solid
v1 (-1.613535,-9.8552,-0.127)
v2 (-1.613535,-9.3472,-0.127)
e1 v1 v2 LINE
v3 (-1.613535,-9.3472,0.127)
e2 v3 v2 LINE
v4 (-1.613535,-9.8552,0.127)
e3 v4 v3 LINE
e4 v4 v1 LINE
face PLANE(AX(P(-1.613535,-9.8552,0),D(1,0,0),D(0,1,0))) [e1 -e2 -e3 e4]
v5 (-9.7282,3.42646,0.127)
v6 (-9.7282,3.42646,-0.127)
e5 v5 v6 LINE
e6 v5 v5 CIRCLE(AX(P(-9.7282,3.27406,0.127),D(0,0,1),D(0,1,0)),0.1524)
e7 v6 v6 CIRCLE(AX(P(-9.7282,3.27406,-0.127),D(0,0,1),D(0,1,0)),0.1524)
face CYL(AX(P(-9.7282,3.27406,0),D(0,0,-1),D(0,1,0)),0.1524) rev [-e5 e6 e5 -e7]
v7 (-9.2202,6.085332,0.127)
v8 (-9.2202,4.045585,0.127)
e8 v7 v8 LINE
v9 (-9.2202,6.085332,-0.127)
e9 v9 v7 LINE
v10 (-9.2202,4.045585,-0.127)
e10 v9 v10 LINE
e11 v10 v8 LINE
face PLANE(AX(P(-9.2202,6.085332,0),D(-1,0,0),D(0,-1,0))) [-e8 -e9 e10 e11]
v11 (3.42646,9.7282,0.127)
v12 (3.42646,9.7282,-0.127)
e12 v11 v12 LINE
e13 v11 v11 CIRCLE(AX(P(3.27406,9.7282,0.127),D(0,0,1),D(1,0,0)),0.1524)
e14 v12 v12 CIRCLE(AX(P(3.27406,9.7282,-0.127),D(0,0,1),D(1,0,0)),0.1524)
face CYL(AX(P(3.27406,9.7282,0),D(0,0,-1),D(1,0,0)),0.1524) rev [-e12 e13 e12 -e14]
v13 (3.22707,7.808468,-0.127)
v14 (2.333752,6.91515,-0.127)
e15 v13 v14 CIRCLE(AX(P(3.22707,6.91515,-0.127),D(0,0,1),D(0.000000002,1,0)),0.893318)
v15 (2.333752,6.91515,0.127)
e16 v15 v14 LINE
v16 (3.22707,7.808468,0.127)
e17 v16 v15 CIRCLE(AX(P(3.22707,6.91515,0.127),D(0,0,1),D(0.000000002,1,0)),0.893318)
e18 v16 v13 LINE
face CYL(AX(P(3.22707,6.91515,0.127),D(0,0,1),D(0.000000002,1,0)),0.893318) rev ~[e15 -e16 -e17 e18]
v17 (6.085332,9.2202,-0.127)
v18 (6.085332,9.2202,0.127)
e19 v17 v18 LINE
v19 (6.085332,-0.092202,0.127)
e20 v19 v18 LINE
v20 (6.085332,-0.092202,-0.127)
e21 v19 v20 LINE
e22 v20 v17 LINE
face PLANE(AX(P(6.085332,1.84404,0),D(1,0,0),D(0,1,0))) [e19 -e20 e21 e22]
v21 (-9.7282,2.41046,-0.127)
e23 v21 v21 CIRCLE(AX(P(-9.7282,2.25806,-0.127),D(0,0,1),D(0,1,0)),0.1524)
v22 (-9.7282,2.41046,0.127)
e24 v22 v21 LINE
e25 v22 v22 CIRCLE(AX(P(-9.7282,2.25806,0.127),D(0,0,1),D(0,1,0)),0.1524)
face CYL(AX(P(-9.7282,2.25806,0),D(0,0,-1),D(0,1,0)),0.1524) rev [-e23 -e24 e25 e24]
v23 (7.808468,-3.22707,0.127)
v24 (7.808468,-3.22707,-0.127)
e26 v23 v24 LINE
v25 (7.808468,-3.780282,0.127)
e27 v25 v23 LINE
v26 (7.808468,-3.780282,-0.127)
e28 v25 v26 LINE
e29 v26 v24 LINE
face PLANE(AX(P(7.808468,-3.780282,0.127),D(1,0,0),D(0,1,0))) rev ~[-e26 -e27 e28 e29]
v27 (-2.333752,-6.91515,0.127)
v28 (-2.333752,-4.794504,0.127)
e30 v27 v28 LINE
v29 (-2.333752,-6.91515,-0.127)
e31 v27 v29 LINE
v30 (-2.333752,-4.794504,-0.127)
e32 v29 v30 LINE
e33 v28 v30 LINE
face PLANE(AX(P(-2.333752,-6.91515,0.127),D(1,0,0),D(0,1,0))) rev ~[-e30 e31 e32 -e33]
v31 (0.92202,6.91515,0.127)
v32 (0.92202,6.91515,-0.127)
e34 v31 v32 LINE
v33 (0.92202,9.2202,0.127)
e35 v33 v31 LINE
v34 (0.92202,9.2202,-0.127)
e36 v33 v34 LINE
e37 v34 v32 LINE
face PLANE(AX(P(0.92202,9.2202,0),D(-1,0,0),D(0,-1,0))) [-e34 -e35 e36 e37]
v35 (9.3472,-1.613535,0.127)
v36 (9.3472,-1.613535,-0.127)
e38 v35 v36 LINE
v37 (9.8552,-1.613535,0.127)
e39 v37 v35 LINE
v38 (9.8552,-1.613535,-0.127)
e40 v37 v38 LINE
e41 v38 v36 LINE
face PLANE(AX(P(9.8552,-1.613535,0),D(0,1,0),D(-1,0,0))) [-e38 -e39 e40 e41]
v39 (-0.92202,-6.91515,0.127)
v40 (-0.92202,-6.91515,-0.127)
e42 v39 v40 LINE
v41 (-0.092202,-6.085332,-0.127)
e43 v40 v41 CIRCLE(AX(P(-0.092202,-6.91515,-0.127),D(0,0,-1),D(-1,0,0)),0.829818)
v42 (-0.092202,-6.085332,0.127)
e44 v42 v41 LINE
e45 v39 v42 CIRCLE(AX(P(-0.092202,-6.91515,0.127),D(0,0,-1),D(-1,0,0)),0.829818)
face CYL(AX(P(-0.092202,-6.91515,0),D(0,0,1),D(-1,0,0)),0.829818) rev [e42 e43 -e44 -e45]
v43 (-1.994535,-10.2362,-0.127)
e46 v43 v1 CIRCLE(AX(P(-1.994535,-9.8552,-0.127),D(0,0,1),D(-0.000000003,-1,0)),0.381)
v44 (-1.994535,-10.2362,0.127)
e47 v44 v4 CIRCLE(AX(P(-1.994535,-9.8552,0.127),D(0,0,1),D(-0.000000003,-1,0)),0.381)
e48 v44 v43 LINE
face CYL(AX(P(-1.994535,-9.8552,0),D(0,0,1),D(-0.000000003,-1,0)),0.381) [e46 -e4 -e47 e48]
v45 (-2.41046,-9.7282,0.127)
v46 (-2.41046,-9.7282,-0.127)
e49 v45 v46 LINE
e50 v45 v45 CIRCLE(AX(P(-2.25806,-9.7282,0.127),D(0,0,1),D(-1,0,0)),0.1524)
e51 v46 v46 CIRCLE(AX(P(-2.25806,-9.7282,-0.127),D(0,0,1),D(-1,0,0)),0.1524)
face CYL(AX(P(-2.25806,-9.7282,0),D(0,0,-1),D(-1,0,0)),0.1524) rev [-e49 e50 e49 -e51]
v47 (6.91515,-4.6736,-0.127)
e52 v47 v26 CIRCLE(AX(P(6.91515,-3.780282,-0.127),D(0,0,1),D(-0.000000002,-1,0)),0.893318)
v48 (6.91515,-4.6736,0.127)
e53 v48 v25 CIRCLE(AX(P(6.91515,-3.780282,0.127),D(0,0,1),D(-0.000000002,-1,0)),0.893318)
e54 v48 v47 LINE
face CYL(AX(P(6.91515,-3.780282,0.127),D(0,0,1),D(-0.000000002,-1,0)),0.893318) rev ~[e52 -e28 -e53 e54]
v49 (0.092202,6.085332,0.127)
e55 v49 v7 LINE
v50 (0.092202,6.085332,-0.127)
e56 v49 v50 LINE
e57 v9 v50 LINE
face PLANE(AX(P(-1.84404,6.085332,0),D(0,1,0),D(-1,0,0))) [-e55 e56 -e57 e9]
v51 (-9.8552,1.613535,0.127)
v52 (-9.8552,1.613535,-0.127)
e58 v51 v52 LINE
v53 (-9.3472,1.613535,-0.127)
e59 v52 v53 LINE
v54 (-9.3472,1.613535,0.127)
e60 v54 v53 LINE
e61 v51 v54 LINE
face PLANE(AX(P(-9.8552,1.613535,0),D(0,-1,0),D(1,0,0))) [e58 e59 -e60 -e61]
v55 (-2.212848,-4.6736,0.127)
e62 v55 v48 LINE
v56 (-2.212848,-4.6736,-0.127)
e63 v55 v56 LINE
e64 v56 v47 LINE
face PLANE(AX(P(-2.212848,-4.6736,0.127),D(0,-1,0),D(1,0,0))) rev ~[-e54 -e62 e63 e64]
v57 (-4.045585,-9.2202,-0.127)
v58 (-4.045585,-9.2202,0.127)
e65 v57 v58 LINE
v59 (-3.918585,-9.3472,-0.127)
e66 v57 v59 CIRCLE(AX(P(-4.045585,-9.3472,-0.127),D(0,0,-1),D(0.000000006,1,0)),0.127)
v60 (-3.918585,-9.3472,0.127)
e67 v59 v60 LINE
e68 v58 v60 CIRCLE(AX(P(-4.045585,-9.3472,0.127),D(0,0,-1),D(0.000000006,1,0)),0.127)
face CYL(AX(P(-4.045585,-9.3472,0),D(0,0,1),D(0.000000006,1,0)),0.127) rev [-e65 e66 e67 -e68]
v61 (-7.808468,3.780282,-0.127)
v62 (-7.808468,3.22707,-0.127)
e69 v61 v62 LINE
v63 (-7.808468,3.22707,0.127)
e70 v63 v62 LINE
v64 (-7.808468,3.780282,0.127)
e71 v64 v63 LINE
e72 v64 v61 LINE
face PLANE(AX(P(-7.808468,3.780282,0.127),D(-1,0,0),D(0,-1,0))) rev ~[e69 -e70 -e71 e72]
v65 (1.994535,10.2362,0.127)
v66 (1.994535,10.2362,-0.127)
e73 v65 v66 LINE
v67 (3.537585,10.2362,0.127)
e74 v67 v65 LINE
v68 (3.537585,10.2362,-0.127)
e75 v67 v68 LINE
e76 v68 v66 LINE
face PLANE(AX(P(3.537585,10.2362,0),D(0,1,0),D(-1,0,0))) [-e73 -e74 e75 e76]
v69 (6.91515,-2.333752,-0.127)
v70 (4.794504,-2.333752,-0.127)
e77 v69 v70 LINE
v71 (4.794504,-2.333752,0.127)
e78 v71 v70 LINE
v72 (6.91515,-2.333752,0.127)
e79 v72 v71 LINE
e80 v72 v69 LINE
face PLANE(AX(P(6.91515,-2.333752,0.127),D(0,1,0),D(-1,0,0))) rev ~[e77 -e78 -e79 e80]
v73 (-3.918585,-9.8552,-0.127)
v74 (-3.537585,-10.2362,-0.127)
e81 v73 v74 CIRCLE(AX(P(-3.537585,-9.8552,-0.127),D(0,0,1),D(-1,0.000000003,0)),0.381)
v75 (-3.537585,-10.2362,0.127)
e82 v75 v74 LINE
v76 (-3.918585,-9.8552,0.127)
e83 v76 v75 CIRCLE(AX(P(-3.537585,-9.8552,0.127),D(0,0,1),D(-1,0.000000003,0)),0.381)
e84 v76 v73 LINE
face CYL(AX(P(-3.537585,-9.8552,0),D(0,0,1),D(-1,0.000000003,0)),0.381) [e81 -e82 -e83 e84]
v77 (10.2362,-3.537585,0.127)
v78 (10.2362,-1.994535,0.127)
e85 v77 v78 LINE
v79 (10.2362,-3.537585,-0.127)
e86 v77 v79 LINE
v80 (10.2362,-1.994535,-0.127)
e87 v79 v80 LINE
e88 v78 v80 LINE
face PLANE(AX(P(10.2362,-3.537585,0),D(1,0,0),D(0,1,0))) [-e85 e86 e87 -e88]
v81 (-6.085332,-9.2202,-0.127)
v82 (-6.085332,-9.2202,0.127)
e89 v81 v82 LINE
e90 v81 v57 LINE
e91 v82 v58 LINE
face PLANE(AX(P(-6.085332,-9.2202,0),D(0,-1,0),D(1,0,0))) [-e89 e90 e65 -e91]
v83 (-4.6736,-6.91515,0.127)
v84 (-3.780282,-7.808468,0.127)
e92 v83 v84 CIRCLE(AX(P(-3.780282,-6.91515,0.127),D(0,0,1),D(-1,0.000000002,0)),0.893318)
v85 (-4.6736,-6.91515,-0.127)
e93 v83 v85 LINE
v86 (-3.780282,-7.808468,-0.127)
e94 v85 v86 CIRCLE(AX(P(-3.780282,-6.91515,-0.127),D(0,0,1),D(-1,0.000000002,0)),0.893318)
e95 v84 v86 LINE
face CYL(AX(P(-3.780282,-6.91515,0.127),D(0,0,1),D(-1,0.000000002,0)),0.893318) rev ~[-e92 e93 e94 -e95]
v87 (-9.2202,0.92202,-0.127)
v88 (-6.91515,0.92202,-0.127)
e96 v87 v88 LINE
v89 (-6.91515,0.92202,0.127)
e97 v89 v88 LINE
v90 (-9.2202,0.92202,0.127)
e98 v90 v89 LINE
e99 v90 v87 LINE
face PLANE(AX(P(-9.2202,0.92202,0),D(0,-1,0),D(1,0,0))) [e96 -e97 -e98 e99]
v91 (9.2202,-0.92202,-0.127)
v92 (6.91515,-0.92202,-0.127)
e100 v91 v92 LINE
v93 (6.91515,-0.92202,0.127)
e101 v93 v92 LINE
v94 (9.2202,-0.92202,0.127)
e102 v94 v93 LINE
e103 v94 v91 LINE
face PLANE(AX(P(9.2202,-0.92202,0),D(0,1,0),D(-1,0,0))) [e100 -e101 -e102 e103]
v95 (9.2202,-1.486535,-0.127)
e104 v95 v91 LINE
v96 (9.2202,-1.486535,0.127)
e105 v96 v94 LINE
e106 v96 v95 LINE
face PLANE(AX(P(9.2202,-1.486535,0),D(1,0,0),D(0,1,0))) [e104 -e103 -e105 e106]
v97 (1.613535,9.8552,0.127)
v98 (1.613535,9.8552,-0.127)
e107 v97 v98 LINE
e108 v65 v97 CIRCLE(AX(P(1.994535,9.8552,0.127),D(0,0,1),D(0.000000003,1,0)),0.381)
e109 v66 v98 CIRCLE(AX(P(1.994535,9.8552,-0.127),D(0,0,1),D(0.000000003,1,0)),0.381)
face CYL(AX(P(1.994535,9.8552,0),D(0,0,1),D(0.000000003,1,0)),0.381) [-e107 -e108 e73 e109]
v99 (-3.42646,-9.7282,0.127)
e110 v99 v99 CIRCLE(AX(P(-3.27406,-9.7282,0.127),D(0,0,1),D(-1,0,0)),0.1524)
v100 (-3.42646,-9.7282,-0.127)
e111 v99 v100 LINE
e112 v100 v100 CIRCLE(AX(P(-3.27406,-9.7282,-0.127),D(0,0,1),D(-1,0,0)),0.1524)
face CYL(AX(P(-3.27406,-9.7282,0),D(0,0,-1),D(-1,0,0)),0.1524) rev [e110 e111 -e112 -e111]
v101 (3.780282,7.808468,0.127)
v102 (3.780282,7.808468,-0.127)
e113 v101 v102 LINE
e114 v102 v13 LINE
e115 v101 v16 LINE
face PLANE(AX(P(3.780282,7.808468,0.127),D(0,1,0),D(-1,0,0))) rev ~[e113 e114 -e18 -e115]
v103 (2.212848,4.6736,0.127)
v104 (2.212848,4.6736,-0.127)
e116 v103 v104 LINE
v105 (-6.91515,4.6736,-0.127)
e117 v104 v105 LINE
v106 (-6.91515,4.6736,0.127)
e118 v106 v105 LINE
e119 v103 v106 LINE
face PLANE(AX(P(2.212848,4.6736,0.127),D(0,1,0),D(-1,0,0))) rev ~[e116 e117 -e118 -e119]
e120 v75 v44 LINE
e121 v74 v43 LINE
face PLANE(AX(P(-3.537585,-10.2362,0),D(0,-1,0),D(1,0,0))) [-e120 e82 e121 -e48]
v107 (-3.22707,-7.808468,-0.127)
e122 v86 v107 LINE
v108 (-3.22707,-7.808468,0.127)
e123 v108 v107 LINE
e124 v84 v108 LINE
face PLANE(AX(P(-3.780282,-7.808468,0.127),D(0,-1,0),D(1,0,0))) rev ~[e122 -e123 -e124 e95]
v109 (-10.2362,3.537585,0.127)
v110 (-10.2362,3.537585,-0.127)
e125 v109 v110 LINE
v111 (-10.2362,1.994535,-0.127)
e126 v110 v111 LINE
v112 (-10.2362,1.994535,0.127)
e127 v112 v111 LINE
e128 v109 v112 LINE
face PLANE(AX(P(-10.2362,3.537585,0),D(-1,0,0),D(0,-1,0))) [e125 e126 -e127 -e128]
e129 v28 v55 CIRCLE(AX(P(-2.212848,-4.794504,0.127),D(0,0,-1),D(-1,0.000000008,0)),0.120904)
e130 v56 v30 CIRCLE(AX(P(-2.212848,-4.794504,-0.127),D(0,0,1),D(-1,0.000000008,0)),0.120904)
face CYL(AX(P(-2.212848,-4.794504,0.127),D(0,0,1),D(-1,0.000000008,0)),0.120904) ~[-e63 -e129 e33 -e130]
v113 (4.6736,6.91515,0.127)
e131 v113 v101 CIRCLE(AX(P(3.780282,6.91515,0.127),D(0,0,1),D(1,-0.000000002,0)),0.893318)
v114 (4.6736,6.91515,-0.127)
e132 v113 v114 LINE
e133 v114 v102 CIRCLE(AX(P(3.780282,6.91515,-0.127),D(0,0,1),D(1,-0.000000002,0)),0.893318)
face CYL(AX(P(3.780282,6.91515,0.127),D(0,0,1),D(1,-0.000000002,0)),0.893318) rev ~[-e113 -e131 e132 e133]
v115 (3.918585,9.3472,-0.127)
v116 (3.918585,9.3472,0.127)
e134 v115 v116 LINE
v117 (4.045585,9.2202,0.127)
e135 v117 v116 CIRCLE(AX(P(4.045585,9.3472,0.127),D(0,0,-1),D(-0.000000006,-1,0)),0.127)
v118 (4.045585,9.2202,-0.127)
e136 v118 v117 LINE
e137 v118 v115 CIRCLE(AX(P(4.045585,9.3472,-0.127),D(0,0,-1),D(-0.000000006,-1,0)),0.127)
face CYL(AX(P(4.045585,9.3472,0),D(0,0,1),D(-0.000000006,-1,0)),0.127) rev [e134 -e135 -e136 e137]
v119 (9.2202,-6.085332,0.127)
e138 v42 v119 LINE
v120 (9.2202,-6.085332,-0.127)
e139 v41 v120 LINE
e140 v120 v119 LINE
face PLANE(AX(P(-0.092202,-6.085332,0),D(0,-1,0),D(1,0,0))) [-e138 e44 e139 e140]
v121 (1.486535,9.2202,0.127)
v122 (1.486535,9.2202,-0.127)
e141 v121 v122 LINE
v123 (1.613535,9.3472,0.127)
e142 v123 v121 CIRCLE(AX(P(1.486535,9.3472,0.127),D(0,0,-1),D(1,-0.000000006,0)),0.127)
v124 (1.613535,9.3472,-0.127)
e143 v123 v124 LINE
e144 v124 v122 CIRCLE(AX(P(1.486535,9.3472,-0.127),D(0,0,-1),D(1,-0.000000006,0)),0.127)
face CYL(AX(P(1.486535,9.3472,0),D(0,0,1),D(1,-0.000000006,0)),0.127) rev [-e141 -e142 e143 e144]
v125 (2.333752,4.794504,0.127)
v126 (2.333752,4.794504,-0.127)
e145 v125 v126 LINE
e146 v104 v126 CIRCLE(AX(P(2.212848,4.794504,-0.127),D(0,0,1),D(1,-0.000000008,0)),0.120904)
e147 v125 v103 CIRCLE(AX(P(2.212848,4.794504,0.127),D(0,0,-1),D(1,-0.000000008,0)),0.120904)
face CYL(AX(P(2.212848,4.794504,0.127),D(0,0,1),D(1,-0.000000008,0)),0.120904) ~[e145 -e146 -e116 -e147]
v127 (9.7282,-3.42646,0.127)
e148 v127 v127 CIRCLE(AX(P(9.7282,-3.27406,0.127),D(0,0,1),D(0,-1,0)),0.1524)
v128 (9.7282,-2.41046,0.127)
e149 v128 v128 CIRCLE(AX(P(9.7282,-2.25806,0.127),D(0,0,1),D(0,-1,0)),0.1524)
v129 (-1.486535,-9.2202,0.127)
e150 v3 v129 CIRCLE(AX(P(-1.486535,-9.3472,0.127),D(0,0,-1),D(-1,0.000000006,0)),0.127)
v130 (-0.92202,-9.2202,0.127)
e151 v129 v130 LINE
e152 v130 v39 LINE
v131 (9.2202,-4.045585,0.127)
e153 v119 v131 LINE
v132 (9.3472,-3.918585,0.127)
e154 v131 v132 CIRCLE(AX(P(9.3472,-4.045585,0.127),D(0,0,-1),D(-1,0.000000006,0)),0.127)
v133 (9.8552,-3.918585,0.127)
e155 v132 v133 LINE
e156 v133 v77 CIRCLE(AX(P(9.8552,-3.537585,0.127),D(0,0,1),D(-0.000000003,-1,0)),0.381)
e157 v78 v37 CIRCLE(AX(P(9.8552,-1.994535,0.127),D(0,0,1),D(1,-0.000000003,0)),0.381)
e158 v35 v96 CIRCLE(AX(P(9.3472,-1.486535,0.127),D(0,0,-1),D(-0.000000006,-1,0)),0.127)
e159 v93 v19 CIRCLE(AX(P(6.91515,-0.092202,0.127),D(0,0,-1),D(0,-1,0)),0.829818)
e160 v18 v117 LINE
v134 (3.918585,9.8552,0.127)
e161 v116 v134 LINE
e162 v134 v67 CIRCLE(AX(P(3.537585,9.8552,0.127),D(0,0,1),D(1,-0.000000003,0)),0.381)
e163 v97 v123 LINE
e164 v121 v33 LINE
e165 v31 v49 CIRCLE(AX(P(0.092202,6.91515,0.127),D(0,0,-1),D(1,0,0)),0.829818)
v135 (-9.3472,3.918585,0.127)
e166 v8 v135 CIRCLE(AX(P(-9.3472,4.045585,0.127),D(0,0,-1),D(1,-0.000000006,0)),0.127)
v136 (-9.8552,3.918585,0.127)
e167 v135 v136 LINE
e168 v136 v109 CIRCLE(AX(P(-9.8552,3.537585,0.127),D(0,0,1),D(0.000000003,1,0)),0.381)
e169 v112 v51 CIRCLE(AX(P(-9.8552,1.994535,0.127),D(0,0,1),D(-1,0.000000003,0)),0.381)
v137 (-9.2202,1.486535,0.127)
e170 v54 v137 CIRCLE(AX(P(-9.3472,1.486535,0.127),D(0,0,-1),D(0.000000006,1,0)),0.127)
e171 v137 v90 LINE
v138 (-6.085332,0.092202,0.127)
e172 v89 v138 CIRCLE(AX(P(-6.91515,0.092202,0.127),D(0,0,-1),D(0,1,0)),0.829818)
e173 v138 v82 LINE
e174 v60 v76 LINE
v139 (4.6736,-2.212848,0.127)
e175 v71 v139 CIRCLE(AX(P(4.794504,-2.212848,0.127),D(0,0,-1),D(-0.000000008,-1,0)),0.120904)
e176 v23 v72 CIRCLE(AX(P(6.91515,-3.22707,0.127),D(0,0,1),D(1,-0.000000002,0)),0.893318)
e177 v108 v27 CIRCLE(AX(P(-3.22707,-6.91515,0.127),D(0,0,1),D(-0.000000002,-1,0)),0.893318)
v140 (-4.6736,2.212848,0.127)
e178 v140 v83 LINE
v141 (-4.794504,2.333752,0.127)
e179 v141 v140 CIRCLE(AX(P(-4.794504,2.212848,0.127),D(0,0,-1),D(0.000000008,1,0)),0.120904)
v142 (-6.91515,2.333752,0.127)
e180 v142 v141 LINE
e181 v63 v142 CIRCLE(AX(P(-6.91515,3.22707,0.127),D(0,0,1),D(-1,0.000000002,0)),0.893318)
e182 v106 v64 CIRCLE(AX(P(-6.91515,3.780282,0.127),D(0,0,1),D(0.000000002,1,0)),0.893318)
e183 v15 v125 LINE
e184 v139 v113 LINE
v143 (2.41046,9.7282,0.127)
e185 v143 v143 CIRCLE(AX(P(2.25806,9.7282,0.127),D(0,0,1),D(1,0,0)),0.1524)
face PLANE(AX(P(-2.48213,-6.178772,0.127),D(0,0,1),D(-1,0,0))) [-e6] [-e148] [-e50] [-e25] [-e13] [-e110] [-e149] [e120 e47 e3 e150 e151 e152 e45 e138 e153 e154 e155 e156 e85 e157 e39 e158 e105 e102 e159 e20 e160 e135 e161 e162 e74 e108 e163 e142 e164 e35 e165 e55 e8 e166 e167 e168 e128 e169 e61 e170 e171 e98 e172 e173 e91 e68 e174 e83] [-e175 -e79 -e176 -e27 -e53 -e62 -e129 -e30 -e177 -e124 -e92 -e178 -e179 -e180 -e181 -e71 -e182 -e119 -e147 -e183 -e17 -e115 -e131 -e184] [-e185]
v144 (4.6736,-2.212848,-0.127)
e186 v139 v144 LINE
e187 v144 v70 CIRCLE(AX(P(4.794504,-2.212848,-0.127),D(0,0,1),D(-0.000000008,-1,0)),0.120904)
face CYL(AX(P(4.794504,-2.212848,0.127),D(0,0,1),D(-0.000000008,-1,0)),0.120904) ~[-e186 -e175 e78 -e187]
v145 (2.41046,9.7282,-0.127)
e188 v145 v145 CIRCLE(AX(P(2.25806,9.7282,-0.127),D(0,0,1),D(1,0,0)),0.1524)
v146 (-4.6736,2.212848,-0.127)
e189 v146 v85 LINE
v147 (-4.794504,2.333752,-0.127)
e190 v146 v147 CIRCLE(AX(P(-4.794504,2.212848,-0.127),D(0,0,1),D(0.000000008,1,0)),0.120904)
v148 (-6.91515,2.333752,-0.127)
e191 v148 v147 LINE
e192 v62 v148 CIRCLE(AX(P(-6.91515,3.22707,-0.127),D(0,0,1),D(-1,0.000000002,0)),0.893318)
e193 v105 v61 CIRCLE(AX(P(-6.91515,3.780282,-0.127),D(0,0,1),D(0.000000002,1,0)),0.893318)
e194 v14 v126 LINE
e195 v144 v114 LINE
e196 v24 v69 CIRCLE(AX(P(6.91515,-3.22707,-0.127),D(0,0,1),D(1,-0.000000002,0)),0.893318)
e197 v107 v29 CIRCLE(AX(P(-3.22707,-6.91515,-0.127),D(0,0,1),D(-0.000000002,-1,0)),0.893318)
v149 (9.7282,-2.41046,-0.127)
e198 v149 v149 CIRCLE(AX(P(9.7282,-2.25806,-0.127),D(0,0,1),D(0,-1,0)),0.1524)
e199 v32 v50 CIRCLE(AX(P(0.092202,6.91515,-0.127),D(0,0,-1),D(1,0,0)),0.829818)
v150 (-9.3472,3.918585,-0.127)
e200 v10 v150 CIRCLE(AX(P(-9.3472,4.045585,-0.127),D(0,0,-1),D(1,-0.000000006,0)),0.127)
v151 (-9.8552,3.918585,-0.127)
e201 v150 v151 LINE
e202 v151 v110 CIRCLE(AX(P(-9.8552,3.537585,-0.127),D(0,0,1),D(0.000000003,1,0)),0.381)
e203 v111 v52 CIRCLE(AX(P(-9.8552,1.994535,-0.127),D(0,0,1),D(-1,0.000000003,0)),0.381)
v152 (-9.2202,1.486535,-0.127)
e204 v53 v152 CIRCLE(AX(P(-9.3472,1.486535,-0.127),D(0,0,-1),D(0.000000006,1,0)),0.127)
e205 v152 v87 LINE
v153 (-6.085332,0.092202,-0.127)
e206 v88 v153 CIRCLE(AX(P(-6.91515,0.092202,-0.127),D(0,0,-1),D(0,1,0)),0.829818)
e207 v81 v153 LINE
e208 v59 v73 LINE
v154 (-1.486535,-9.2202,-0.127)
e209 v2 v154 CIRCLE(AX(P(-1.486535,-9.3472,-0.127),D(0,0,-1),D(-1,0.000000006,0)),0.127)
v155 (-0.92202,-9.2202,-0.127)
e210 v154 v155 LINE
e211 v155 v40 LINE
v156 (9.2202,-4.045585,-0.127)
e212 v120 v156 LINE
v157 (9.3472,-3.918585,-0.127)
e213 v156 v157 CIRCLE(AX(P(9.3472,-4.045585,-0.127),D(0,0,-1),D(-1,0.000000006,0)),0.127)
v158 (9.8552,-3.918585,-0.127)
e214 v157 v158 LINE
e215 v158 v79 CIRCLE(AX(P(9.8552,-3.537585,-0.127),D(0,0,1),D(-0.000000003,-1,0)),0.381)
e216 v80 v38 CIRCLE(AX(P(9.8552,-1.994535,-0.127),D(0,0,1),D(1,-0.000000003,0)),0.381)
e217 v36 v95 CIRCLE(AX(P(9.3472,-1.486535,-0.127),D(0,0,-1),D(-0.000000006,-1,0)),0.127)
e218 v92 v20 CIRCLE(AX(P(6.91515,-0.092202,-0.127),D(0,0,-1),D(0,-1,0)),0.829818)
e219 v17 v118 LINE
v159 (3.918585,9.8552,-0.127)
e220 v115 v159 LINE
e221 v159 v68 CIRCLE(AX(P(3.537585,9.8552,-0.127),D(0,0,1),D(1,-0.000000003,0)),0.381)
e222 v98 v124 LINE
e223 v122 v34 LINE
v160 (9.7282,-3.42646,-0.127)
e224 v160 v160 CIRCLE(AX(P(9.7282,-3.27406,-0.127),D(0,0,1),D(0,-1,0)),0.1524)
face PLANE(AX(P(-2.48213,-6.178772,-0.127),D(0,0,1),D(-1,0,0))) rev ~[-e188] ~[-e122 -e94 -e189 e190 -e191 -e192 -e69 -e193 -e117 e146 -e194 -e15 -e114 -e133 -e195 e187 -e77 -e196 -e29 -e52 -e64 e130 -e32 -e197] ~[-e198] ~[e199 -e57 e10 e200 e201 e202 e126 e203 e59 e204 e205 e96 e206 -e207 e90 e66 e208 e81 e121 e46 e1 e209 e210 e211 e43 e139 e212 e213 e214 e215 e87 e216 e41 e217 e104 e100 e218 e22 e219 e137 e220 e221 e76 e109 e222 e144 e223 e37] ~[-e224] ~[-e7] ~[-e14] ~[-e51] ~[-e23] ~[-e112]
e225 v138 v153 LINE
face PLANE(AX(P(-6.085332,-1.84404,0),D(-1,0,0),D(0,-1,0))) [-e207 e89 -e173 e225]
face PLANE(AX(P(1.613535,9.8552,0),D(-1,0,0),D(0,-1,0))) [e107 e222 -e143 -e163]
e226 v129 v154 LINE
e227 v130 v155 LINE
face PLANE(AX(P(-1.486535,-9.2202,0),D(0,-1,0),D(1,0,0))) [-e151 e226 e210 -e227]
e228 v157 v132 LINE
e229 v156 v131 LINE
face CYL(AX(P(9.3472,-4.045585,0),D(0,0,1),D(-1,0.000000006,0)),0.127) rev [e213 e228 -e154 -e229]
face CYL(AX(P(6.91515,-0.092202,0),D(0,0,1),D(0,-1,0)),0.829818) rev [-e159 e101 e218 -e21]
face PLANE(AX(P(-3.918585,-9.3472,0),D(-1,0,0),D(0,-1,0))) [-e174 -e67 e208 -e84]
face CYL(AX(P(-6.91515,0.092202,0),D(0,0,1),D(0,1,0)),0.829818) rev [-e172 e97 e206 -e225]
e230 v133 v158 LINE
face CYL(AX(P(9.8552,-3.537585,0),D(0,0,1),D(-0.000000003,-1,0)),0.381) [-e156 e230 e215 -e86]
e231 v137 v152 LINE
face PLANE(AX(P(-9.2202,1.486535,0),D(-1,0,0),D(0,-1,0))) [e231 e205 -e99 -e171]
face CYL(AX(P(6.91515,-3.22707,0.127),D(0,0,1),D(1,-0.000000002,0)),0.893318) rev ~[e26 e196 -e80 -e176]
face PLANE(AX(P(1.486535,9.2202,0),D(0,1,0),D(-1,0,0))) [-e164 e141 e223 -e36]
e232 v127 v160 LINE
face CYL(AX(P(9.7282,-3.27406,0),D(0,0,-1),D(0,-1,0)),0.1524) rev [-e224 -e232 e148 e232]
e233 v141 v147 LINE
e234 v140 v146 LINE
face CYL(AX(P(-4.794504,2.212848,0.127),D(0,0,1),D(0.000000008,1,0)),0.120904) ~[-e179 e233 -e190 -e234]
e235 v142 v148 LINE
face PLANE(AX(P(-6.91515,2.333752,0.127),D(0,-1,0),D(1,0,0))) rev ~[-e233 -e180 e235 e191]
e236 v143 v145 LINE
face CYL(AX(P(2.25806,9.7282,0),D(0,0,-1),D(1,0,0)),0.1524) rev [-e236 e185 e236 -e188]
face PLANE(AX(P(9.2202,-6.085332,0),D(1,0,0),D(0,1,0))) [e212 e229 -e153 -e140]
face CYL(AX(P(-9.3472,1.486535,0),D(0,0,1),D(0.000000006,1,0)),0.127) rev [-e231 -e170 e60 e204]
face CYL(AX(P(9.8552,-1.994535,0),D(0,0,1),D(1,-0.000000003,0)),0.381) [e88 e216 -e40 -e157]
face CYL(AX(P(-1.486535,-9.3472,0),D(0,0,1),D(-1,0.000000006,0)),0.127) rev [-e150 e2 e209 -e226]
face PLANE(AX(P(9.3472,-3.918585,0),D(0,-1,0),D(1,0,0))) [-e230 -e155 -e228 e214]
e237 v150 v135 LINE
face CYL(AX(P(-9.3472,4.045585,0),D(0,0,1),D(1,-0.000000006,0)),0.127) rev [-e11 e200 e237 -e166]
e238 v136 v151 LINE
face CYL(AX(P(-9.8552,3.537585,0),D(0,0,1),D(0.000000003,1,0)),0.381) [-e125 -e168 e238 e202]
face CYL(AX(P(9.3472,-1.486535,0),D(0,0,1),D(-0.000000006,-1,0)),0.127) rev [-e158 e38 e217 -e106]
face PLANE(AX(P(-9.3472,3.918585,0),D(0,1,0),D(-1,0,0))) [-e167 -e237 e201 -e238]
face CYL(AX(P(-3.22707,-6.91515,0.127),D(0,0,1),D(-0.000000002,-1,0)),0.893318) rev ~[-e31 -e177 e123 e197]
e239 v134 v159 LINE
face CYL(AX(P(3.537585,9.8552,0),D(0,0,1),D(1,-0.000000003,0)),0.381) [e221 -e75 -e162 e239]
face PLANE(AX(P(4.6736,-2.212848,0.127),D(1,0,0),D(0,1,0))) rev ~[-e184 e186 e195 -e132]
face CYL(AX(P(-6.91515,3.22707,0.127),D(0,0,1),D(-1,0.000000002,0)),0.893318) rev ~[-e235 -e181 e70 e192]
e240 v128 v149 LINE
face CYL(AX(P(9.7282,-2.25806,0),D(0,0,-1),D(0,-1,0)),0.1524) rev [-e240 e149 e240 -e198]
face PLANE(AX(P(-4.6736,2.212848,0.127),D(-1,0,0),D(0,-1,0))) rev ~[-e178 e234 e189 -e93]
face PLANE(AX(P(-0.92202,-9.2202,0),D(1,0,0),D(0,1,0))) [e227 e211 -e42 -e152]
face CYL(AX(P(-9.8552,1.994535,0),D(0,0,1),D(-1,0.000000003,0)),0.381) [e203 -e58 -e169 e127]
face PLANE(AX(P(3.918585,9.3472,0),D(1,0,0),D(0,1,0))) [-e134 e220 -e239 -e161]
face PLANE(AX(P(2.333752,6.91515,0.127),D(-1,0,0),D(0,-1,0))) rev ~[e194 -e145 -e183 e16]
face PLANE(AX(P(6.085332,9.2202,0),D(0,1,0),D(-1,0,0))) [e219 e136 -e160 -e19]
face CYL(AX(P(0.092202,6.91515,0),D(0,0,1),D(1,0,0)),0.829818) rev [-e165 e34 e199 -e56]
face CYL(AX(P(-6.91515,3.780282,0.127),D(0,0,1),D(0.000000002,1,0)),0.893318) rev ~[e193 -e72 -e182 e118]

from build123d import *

# Parameters (mm, degrees)
SKETCH2_R          = 0.1524
EXTRUDE1_DEPTH     = 0.127
CIRPATTERN1_COUNT  = 4
CUT_EXTRUDE1_DEPTH = 0.381


with BuildPart() as part:
    # Sketch2 → Extrude1 (new, symmetric)
    with BuildSketch(Plane.XY):
        with BuildLine():
            Line((-3.68808, 4.6101), (2.212848, 4.6101))
            ThreePointArc((2.212848, 4.6101), (2.343241319, 4.664110681), (2.397252, 4.794504))
            Line((2.397252, 4.794504), (2.397252, 6.91515))
            ThreePointArc((2.397252, 6.91515), (2.640300065, 7.501919935), (3.22707, 7.744968))
            Line((3.22707, 7.744968), (3.780282, 7.744968))
            ThreePointArc((3.780282, 7.744968), (4.367051935, 7.501919935), (4.6101, 6.91515))
            Line((4.6101, 6.91515), (4.6101, 1.84404))
            Line((4.6101, 1.84404), (6.085332, 1.84404))
            Line((6.085332, 1.84404), (6.085332, 9.2202))
            Line((6.085332, 9.2202), (4.045585, 9.2202))
            ThreePointArc((4.045585, 9.2202), (3.955782439, 9.257397439), (3.918585, 9.3472))
            Line((3.918585, 9.3472), (3.918585, 9.8552))
            ThreePointArc((3.918585, 9.8552), (3.806992684, 10.124607684), (3.537585, 10.2362))
            Line((3.537585, 10.2362), (1.994535, 10.2362))
            ThreePointArc((1.994535, 10.2362), (1.725127316, 10.124607684), (1.613535, 9.8552))
            Line((1.613535, 9.8552), (1.613535, 9.3472))
            ThreePointArc((1.613535, 9.3472), (1.576337561, 9.257397439), (1.486535, 9.2202))
            Line((1.486535, 9.2202), (0.92202, 9.2202))
            Line((0.92202, 9.2202), (0.92202, 6.91515))
            ThreePointArc((0.92202, 6.91515), (0.678971935, 6.328380065), (0.092202, 6.085332))
            Line((0.092202, 6.085332), (-3.68808, 6.085332))
            Line((-3.68808, 6.085332), (-3.68808, 4.6101))
        make_face()
        with Locations((3.27406, 9.7282)):
            Circle(SKETCH2_R, mode=Mode.SUBTRACT)
        with Locations((2.25806, 9.7282)):
            Circle(SKETCH2_R, mode=Mode.SUBTRACT)
    extrude1 = extrude(amount=EXTRUDE1_DEPTH, both=True)

    # CirPattern1: Extrude1 ×4 about axis
    cirpattern1_axis = Axis((0, 0, -69.733664692), (0, 0, 1))
    for i in range(1, CIRPATTERN1_COUNT):
        add(extrude1.rotate(cirpattern1_axis, i * 360 / CIRPATTERN1_COUNT))

    # Sketch3 → Cut-Extrude1 (cut)
    with BuildSketch(Plane.XY.offset(0.127)):
        with BuildLine():
            Line((-7.808468, 3.780282), (-7.808468, 3.22707))
            ThreePointArc((-7.808468, 3.22707), (-7.546821216, 2.595398784), (-6.91515, 2.333752))
            Line((-6.91515, 2.333752), (-4.794504, 2.333752))
            ThreePointArc((-4.794504, 2.333752), (-4.709011962, 2.298340038), (-4.6736, 2.212848))
            Line((-4.6736, 2.212848), (-4.6736, -6.91515))
            ThreePointArc((-4.6736, -6.91515), (-4.411953216, -7.546821216), (-3.780282, -7.808468))
            Line((-3.780282, -7.808468), (-3.22707, -7.808468))
            ThreePointArc((-3.22707, -7.808468), (-2.595398784, -7.546821216), (-2.333752, -6.91515))
            Line((-2.333752, -6.91515), (-2.333752, -4.794504))
            ThreePointArc((-2.333752, -4.794504), (-2.298340038, -4.709011962), (-2.212848, -4.6736))
            Line((-2.212848, -4.6736), (6.91515, -4.6736))
            ThreePointArc((6.91515, -4.6736), (7.546821216, -4.411953216), (7.808468, -3.780282))
            Line((7.808468, -3.780282), (7.808468, -3.22707))
            ThreePointArc((7.808468, -3.22707), (7.546821216, -2.595398784), (6.91515, -2.333752))
            Line((6.91515, -2.333752), (4.794504, -2.333752))
            ThreePointArc((4.794504, -2.333752), (4.709011962, -2.298340038), (4.6736, -2.212848))
            Line((4.6736, -2.212848), (4.6736, 6.91515))
            ThreePointArc((4.6736, 6.91515), (4.411953216, 7.546821216), (3.780282, 7.808468))
            Line((3.780282, 7.808468), (3.22707, 7.808468))
            ThreePointArc((3.22707, 7.808468), (2.595398784, 7.546821216), (2.333752, 6.91515))
            Line((2.333752, 6.91515), (2.333752, 4.794504))
            ThreePointArc((2.333752, 4.794504), (2.298340038, 4.709011962), (2.212848, 4.6736))
            Line((2.212848, 4.6736), (-6.91515, 4.6736))
            ThreePointArc((-6.91515, 4.6736), (-7.546821216, 4.411953216), (-7.808468, 3.780282))
        make_face()
    extrude(amount=-CUT_EXTRUDE1_DEPTH, mode=Mode.SUBTRACT)


solid = part.part
